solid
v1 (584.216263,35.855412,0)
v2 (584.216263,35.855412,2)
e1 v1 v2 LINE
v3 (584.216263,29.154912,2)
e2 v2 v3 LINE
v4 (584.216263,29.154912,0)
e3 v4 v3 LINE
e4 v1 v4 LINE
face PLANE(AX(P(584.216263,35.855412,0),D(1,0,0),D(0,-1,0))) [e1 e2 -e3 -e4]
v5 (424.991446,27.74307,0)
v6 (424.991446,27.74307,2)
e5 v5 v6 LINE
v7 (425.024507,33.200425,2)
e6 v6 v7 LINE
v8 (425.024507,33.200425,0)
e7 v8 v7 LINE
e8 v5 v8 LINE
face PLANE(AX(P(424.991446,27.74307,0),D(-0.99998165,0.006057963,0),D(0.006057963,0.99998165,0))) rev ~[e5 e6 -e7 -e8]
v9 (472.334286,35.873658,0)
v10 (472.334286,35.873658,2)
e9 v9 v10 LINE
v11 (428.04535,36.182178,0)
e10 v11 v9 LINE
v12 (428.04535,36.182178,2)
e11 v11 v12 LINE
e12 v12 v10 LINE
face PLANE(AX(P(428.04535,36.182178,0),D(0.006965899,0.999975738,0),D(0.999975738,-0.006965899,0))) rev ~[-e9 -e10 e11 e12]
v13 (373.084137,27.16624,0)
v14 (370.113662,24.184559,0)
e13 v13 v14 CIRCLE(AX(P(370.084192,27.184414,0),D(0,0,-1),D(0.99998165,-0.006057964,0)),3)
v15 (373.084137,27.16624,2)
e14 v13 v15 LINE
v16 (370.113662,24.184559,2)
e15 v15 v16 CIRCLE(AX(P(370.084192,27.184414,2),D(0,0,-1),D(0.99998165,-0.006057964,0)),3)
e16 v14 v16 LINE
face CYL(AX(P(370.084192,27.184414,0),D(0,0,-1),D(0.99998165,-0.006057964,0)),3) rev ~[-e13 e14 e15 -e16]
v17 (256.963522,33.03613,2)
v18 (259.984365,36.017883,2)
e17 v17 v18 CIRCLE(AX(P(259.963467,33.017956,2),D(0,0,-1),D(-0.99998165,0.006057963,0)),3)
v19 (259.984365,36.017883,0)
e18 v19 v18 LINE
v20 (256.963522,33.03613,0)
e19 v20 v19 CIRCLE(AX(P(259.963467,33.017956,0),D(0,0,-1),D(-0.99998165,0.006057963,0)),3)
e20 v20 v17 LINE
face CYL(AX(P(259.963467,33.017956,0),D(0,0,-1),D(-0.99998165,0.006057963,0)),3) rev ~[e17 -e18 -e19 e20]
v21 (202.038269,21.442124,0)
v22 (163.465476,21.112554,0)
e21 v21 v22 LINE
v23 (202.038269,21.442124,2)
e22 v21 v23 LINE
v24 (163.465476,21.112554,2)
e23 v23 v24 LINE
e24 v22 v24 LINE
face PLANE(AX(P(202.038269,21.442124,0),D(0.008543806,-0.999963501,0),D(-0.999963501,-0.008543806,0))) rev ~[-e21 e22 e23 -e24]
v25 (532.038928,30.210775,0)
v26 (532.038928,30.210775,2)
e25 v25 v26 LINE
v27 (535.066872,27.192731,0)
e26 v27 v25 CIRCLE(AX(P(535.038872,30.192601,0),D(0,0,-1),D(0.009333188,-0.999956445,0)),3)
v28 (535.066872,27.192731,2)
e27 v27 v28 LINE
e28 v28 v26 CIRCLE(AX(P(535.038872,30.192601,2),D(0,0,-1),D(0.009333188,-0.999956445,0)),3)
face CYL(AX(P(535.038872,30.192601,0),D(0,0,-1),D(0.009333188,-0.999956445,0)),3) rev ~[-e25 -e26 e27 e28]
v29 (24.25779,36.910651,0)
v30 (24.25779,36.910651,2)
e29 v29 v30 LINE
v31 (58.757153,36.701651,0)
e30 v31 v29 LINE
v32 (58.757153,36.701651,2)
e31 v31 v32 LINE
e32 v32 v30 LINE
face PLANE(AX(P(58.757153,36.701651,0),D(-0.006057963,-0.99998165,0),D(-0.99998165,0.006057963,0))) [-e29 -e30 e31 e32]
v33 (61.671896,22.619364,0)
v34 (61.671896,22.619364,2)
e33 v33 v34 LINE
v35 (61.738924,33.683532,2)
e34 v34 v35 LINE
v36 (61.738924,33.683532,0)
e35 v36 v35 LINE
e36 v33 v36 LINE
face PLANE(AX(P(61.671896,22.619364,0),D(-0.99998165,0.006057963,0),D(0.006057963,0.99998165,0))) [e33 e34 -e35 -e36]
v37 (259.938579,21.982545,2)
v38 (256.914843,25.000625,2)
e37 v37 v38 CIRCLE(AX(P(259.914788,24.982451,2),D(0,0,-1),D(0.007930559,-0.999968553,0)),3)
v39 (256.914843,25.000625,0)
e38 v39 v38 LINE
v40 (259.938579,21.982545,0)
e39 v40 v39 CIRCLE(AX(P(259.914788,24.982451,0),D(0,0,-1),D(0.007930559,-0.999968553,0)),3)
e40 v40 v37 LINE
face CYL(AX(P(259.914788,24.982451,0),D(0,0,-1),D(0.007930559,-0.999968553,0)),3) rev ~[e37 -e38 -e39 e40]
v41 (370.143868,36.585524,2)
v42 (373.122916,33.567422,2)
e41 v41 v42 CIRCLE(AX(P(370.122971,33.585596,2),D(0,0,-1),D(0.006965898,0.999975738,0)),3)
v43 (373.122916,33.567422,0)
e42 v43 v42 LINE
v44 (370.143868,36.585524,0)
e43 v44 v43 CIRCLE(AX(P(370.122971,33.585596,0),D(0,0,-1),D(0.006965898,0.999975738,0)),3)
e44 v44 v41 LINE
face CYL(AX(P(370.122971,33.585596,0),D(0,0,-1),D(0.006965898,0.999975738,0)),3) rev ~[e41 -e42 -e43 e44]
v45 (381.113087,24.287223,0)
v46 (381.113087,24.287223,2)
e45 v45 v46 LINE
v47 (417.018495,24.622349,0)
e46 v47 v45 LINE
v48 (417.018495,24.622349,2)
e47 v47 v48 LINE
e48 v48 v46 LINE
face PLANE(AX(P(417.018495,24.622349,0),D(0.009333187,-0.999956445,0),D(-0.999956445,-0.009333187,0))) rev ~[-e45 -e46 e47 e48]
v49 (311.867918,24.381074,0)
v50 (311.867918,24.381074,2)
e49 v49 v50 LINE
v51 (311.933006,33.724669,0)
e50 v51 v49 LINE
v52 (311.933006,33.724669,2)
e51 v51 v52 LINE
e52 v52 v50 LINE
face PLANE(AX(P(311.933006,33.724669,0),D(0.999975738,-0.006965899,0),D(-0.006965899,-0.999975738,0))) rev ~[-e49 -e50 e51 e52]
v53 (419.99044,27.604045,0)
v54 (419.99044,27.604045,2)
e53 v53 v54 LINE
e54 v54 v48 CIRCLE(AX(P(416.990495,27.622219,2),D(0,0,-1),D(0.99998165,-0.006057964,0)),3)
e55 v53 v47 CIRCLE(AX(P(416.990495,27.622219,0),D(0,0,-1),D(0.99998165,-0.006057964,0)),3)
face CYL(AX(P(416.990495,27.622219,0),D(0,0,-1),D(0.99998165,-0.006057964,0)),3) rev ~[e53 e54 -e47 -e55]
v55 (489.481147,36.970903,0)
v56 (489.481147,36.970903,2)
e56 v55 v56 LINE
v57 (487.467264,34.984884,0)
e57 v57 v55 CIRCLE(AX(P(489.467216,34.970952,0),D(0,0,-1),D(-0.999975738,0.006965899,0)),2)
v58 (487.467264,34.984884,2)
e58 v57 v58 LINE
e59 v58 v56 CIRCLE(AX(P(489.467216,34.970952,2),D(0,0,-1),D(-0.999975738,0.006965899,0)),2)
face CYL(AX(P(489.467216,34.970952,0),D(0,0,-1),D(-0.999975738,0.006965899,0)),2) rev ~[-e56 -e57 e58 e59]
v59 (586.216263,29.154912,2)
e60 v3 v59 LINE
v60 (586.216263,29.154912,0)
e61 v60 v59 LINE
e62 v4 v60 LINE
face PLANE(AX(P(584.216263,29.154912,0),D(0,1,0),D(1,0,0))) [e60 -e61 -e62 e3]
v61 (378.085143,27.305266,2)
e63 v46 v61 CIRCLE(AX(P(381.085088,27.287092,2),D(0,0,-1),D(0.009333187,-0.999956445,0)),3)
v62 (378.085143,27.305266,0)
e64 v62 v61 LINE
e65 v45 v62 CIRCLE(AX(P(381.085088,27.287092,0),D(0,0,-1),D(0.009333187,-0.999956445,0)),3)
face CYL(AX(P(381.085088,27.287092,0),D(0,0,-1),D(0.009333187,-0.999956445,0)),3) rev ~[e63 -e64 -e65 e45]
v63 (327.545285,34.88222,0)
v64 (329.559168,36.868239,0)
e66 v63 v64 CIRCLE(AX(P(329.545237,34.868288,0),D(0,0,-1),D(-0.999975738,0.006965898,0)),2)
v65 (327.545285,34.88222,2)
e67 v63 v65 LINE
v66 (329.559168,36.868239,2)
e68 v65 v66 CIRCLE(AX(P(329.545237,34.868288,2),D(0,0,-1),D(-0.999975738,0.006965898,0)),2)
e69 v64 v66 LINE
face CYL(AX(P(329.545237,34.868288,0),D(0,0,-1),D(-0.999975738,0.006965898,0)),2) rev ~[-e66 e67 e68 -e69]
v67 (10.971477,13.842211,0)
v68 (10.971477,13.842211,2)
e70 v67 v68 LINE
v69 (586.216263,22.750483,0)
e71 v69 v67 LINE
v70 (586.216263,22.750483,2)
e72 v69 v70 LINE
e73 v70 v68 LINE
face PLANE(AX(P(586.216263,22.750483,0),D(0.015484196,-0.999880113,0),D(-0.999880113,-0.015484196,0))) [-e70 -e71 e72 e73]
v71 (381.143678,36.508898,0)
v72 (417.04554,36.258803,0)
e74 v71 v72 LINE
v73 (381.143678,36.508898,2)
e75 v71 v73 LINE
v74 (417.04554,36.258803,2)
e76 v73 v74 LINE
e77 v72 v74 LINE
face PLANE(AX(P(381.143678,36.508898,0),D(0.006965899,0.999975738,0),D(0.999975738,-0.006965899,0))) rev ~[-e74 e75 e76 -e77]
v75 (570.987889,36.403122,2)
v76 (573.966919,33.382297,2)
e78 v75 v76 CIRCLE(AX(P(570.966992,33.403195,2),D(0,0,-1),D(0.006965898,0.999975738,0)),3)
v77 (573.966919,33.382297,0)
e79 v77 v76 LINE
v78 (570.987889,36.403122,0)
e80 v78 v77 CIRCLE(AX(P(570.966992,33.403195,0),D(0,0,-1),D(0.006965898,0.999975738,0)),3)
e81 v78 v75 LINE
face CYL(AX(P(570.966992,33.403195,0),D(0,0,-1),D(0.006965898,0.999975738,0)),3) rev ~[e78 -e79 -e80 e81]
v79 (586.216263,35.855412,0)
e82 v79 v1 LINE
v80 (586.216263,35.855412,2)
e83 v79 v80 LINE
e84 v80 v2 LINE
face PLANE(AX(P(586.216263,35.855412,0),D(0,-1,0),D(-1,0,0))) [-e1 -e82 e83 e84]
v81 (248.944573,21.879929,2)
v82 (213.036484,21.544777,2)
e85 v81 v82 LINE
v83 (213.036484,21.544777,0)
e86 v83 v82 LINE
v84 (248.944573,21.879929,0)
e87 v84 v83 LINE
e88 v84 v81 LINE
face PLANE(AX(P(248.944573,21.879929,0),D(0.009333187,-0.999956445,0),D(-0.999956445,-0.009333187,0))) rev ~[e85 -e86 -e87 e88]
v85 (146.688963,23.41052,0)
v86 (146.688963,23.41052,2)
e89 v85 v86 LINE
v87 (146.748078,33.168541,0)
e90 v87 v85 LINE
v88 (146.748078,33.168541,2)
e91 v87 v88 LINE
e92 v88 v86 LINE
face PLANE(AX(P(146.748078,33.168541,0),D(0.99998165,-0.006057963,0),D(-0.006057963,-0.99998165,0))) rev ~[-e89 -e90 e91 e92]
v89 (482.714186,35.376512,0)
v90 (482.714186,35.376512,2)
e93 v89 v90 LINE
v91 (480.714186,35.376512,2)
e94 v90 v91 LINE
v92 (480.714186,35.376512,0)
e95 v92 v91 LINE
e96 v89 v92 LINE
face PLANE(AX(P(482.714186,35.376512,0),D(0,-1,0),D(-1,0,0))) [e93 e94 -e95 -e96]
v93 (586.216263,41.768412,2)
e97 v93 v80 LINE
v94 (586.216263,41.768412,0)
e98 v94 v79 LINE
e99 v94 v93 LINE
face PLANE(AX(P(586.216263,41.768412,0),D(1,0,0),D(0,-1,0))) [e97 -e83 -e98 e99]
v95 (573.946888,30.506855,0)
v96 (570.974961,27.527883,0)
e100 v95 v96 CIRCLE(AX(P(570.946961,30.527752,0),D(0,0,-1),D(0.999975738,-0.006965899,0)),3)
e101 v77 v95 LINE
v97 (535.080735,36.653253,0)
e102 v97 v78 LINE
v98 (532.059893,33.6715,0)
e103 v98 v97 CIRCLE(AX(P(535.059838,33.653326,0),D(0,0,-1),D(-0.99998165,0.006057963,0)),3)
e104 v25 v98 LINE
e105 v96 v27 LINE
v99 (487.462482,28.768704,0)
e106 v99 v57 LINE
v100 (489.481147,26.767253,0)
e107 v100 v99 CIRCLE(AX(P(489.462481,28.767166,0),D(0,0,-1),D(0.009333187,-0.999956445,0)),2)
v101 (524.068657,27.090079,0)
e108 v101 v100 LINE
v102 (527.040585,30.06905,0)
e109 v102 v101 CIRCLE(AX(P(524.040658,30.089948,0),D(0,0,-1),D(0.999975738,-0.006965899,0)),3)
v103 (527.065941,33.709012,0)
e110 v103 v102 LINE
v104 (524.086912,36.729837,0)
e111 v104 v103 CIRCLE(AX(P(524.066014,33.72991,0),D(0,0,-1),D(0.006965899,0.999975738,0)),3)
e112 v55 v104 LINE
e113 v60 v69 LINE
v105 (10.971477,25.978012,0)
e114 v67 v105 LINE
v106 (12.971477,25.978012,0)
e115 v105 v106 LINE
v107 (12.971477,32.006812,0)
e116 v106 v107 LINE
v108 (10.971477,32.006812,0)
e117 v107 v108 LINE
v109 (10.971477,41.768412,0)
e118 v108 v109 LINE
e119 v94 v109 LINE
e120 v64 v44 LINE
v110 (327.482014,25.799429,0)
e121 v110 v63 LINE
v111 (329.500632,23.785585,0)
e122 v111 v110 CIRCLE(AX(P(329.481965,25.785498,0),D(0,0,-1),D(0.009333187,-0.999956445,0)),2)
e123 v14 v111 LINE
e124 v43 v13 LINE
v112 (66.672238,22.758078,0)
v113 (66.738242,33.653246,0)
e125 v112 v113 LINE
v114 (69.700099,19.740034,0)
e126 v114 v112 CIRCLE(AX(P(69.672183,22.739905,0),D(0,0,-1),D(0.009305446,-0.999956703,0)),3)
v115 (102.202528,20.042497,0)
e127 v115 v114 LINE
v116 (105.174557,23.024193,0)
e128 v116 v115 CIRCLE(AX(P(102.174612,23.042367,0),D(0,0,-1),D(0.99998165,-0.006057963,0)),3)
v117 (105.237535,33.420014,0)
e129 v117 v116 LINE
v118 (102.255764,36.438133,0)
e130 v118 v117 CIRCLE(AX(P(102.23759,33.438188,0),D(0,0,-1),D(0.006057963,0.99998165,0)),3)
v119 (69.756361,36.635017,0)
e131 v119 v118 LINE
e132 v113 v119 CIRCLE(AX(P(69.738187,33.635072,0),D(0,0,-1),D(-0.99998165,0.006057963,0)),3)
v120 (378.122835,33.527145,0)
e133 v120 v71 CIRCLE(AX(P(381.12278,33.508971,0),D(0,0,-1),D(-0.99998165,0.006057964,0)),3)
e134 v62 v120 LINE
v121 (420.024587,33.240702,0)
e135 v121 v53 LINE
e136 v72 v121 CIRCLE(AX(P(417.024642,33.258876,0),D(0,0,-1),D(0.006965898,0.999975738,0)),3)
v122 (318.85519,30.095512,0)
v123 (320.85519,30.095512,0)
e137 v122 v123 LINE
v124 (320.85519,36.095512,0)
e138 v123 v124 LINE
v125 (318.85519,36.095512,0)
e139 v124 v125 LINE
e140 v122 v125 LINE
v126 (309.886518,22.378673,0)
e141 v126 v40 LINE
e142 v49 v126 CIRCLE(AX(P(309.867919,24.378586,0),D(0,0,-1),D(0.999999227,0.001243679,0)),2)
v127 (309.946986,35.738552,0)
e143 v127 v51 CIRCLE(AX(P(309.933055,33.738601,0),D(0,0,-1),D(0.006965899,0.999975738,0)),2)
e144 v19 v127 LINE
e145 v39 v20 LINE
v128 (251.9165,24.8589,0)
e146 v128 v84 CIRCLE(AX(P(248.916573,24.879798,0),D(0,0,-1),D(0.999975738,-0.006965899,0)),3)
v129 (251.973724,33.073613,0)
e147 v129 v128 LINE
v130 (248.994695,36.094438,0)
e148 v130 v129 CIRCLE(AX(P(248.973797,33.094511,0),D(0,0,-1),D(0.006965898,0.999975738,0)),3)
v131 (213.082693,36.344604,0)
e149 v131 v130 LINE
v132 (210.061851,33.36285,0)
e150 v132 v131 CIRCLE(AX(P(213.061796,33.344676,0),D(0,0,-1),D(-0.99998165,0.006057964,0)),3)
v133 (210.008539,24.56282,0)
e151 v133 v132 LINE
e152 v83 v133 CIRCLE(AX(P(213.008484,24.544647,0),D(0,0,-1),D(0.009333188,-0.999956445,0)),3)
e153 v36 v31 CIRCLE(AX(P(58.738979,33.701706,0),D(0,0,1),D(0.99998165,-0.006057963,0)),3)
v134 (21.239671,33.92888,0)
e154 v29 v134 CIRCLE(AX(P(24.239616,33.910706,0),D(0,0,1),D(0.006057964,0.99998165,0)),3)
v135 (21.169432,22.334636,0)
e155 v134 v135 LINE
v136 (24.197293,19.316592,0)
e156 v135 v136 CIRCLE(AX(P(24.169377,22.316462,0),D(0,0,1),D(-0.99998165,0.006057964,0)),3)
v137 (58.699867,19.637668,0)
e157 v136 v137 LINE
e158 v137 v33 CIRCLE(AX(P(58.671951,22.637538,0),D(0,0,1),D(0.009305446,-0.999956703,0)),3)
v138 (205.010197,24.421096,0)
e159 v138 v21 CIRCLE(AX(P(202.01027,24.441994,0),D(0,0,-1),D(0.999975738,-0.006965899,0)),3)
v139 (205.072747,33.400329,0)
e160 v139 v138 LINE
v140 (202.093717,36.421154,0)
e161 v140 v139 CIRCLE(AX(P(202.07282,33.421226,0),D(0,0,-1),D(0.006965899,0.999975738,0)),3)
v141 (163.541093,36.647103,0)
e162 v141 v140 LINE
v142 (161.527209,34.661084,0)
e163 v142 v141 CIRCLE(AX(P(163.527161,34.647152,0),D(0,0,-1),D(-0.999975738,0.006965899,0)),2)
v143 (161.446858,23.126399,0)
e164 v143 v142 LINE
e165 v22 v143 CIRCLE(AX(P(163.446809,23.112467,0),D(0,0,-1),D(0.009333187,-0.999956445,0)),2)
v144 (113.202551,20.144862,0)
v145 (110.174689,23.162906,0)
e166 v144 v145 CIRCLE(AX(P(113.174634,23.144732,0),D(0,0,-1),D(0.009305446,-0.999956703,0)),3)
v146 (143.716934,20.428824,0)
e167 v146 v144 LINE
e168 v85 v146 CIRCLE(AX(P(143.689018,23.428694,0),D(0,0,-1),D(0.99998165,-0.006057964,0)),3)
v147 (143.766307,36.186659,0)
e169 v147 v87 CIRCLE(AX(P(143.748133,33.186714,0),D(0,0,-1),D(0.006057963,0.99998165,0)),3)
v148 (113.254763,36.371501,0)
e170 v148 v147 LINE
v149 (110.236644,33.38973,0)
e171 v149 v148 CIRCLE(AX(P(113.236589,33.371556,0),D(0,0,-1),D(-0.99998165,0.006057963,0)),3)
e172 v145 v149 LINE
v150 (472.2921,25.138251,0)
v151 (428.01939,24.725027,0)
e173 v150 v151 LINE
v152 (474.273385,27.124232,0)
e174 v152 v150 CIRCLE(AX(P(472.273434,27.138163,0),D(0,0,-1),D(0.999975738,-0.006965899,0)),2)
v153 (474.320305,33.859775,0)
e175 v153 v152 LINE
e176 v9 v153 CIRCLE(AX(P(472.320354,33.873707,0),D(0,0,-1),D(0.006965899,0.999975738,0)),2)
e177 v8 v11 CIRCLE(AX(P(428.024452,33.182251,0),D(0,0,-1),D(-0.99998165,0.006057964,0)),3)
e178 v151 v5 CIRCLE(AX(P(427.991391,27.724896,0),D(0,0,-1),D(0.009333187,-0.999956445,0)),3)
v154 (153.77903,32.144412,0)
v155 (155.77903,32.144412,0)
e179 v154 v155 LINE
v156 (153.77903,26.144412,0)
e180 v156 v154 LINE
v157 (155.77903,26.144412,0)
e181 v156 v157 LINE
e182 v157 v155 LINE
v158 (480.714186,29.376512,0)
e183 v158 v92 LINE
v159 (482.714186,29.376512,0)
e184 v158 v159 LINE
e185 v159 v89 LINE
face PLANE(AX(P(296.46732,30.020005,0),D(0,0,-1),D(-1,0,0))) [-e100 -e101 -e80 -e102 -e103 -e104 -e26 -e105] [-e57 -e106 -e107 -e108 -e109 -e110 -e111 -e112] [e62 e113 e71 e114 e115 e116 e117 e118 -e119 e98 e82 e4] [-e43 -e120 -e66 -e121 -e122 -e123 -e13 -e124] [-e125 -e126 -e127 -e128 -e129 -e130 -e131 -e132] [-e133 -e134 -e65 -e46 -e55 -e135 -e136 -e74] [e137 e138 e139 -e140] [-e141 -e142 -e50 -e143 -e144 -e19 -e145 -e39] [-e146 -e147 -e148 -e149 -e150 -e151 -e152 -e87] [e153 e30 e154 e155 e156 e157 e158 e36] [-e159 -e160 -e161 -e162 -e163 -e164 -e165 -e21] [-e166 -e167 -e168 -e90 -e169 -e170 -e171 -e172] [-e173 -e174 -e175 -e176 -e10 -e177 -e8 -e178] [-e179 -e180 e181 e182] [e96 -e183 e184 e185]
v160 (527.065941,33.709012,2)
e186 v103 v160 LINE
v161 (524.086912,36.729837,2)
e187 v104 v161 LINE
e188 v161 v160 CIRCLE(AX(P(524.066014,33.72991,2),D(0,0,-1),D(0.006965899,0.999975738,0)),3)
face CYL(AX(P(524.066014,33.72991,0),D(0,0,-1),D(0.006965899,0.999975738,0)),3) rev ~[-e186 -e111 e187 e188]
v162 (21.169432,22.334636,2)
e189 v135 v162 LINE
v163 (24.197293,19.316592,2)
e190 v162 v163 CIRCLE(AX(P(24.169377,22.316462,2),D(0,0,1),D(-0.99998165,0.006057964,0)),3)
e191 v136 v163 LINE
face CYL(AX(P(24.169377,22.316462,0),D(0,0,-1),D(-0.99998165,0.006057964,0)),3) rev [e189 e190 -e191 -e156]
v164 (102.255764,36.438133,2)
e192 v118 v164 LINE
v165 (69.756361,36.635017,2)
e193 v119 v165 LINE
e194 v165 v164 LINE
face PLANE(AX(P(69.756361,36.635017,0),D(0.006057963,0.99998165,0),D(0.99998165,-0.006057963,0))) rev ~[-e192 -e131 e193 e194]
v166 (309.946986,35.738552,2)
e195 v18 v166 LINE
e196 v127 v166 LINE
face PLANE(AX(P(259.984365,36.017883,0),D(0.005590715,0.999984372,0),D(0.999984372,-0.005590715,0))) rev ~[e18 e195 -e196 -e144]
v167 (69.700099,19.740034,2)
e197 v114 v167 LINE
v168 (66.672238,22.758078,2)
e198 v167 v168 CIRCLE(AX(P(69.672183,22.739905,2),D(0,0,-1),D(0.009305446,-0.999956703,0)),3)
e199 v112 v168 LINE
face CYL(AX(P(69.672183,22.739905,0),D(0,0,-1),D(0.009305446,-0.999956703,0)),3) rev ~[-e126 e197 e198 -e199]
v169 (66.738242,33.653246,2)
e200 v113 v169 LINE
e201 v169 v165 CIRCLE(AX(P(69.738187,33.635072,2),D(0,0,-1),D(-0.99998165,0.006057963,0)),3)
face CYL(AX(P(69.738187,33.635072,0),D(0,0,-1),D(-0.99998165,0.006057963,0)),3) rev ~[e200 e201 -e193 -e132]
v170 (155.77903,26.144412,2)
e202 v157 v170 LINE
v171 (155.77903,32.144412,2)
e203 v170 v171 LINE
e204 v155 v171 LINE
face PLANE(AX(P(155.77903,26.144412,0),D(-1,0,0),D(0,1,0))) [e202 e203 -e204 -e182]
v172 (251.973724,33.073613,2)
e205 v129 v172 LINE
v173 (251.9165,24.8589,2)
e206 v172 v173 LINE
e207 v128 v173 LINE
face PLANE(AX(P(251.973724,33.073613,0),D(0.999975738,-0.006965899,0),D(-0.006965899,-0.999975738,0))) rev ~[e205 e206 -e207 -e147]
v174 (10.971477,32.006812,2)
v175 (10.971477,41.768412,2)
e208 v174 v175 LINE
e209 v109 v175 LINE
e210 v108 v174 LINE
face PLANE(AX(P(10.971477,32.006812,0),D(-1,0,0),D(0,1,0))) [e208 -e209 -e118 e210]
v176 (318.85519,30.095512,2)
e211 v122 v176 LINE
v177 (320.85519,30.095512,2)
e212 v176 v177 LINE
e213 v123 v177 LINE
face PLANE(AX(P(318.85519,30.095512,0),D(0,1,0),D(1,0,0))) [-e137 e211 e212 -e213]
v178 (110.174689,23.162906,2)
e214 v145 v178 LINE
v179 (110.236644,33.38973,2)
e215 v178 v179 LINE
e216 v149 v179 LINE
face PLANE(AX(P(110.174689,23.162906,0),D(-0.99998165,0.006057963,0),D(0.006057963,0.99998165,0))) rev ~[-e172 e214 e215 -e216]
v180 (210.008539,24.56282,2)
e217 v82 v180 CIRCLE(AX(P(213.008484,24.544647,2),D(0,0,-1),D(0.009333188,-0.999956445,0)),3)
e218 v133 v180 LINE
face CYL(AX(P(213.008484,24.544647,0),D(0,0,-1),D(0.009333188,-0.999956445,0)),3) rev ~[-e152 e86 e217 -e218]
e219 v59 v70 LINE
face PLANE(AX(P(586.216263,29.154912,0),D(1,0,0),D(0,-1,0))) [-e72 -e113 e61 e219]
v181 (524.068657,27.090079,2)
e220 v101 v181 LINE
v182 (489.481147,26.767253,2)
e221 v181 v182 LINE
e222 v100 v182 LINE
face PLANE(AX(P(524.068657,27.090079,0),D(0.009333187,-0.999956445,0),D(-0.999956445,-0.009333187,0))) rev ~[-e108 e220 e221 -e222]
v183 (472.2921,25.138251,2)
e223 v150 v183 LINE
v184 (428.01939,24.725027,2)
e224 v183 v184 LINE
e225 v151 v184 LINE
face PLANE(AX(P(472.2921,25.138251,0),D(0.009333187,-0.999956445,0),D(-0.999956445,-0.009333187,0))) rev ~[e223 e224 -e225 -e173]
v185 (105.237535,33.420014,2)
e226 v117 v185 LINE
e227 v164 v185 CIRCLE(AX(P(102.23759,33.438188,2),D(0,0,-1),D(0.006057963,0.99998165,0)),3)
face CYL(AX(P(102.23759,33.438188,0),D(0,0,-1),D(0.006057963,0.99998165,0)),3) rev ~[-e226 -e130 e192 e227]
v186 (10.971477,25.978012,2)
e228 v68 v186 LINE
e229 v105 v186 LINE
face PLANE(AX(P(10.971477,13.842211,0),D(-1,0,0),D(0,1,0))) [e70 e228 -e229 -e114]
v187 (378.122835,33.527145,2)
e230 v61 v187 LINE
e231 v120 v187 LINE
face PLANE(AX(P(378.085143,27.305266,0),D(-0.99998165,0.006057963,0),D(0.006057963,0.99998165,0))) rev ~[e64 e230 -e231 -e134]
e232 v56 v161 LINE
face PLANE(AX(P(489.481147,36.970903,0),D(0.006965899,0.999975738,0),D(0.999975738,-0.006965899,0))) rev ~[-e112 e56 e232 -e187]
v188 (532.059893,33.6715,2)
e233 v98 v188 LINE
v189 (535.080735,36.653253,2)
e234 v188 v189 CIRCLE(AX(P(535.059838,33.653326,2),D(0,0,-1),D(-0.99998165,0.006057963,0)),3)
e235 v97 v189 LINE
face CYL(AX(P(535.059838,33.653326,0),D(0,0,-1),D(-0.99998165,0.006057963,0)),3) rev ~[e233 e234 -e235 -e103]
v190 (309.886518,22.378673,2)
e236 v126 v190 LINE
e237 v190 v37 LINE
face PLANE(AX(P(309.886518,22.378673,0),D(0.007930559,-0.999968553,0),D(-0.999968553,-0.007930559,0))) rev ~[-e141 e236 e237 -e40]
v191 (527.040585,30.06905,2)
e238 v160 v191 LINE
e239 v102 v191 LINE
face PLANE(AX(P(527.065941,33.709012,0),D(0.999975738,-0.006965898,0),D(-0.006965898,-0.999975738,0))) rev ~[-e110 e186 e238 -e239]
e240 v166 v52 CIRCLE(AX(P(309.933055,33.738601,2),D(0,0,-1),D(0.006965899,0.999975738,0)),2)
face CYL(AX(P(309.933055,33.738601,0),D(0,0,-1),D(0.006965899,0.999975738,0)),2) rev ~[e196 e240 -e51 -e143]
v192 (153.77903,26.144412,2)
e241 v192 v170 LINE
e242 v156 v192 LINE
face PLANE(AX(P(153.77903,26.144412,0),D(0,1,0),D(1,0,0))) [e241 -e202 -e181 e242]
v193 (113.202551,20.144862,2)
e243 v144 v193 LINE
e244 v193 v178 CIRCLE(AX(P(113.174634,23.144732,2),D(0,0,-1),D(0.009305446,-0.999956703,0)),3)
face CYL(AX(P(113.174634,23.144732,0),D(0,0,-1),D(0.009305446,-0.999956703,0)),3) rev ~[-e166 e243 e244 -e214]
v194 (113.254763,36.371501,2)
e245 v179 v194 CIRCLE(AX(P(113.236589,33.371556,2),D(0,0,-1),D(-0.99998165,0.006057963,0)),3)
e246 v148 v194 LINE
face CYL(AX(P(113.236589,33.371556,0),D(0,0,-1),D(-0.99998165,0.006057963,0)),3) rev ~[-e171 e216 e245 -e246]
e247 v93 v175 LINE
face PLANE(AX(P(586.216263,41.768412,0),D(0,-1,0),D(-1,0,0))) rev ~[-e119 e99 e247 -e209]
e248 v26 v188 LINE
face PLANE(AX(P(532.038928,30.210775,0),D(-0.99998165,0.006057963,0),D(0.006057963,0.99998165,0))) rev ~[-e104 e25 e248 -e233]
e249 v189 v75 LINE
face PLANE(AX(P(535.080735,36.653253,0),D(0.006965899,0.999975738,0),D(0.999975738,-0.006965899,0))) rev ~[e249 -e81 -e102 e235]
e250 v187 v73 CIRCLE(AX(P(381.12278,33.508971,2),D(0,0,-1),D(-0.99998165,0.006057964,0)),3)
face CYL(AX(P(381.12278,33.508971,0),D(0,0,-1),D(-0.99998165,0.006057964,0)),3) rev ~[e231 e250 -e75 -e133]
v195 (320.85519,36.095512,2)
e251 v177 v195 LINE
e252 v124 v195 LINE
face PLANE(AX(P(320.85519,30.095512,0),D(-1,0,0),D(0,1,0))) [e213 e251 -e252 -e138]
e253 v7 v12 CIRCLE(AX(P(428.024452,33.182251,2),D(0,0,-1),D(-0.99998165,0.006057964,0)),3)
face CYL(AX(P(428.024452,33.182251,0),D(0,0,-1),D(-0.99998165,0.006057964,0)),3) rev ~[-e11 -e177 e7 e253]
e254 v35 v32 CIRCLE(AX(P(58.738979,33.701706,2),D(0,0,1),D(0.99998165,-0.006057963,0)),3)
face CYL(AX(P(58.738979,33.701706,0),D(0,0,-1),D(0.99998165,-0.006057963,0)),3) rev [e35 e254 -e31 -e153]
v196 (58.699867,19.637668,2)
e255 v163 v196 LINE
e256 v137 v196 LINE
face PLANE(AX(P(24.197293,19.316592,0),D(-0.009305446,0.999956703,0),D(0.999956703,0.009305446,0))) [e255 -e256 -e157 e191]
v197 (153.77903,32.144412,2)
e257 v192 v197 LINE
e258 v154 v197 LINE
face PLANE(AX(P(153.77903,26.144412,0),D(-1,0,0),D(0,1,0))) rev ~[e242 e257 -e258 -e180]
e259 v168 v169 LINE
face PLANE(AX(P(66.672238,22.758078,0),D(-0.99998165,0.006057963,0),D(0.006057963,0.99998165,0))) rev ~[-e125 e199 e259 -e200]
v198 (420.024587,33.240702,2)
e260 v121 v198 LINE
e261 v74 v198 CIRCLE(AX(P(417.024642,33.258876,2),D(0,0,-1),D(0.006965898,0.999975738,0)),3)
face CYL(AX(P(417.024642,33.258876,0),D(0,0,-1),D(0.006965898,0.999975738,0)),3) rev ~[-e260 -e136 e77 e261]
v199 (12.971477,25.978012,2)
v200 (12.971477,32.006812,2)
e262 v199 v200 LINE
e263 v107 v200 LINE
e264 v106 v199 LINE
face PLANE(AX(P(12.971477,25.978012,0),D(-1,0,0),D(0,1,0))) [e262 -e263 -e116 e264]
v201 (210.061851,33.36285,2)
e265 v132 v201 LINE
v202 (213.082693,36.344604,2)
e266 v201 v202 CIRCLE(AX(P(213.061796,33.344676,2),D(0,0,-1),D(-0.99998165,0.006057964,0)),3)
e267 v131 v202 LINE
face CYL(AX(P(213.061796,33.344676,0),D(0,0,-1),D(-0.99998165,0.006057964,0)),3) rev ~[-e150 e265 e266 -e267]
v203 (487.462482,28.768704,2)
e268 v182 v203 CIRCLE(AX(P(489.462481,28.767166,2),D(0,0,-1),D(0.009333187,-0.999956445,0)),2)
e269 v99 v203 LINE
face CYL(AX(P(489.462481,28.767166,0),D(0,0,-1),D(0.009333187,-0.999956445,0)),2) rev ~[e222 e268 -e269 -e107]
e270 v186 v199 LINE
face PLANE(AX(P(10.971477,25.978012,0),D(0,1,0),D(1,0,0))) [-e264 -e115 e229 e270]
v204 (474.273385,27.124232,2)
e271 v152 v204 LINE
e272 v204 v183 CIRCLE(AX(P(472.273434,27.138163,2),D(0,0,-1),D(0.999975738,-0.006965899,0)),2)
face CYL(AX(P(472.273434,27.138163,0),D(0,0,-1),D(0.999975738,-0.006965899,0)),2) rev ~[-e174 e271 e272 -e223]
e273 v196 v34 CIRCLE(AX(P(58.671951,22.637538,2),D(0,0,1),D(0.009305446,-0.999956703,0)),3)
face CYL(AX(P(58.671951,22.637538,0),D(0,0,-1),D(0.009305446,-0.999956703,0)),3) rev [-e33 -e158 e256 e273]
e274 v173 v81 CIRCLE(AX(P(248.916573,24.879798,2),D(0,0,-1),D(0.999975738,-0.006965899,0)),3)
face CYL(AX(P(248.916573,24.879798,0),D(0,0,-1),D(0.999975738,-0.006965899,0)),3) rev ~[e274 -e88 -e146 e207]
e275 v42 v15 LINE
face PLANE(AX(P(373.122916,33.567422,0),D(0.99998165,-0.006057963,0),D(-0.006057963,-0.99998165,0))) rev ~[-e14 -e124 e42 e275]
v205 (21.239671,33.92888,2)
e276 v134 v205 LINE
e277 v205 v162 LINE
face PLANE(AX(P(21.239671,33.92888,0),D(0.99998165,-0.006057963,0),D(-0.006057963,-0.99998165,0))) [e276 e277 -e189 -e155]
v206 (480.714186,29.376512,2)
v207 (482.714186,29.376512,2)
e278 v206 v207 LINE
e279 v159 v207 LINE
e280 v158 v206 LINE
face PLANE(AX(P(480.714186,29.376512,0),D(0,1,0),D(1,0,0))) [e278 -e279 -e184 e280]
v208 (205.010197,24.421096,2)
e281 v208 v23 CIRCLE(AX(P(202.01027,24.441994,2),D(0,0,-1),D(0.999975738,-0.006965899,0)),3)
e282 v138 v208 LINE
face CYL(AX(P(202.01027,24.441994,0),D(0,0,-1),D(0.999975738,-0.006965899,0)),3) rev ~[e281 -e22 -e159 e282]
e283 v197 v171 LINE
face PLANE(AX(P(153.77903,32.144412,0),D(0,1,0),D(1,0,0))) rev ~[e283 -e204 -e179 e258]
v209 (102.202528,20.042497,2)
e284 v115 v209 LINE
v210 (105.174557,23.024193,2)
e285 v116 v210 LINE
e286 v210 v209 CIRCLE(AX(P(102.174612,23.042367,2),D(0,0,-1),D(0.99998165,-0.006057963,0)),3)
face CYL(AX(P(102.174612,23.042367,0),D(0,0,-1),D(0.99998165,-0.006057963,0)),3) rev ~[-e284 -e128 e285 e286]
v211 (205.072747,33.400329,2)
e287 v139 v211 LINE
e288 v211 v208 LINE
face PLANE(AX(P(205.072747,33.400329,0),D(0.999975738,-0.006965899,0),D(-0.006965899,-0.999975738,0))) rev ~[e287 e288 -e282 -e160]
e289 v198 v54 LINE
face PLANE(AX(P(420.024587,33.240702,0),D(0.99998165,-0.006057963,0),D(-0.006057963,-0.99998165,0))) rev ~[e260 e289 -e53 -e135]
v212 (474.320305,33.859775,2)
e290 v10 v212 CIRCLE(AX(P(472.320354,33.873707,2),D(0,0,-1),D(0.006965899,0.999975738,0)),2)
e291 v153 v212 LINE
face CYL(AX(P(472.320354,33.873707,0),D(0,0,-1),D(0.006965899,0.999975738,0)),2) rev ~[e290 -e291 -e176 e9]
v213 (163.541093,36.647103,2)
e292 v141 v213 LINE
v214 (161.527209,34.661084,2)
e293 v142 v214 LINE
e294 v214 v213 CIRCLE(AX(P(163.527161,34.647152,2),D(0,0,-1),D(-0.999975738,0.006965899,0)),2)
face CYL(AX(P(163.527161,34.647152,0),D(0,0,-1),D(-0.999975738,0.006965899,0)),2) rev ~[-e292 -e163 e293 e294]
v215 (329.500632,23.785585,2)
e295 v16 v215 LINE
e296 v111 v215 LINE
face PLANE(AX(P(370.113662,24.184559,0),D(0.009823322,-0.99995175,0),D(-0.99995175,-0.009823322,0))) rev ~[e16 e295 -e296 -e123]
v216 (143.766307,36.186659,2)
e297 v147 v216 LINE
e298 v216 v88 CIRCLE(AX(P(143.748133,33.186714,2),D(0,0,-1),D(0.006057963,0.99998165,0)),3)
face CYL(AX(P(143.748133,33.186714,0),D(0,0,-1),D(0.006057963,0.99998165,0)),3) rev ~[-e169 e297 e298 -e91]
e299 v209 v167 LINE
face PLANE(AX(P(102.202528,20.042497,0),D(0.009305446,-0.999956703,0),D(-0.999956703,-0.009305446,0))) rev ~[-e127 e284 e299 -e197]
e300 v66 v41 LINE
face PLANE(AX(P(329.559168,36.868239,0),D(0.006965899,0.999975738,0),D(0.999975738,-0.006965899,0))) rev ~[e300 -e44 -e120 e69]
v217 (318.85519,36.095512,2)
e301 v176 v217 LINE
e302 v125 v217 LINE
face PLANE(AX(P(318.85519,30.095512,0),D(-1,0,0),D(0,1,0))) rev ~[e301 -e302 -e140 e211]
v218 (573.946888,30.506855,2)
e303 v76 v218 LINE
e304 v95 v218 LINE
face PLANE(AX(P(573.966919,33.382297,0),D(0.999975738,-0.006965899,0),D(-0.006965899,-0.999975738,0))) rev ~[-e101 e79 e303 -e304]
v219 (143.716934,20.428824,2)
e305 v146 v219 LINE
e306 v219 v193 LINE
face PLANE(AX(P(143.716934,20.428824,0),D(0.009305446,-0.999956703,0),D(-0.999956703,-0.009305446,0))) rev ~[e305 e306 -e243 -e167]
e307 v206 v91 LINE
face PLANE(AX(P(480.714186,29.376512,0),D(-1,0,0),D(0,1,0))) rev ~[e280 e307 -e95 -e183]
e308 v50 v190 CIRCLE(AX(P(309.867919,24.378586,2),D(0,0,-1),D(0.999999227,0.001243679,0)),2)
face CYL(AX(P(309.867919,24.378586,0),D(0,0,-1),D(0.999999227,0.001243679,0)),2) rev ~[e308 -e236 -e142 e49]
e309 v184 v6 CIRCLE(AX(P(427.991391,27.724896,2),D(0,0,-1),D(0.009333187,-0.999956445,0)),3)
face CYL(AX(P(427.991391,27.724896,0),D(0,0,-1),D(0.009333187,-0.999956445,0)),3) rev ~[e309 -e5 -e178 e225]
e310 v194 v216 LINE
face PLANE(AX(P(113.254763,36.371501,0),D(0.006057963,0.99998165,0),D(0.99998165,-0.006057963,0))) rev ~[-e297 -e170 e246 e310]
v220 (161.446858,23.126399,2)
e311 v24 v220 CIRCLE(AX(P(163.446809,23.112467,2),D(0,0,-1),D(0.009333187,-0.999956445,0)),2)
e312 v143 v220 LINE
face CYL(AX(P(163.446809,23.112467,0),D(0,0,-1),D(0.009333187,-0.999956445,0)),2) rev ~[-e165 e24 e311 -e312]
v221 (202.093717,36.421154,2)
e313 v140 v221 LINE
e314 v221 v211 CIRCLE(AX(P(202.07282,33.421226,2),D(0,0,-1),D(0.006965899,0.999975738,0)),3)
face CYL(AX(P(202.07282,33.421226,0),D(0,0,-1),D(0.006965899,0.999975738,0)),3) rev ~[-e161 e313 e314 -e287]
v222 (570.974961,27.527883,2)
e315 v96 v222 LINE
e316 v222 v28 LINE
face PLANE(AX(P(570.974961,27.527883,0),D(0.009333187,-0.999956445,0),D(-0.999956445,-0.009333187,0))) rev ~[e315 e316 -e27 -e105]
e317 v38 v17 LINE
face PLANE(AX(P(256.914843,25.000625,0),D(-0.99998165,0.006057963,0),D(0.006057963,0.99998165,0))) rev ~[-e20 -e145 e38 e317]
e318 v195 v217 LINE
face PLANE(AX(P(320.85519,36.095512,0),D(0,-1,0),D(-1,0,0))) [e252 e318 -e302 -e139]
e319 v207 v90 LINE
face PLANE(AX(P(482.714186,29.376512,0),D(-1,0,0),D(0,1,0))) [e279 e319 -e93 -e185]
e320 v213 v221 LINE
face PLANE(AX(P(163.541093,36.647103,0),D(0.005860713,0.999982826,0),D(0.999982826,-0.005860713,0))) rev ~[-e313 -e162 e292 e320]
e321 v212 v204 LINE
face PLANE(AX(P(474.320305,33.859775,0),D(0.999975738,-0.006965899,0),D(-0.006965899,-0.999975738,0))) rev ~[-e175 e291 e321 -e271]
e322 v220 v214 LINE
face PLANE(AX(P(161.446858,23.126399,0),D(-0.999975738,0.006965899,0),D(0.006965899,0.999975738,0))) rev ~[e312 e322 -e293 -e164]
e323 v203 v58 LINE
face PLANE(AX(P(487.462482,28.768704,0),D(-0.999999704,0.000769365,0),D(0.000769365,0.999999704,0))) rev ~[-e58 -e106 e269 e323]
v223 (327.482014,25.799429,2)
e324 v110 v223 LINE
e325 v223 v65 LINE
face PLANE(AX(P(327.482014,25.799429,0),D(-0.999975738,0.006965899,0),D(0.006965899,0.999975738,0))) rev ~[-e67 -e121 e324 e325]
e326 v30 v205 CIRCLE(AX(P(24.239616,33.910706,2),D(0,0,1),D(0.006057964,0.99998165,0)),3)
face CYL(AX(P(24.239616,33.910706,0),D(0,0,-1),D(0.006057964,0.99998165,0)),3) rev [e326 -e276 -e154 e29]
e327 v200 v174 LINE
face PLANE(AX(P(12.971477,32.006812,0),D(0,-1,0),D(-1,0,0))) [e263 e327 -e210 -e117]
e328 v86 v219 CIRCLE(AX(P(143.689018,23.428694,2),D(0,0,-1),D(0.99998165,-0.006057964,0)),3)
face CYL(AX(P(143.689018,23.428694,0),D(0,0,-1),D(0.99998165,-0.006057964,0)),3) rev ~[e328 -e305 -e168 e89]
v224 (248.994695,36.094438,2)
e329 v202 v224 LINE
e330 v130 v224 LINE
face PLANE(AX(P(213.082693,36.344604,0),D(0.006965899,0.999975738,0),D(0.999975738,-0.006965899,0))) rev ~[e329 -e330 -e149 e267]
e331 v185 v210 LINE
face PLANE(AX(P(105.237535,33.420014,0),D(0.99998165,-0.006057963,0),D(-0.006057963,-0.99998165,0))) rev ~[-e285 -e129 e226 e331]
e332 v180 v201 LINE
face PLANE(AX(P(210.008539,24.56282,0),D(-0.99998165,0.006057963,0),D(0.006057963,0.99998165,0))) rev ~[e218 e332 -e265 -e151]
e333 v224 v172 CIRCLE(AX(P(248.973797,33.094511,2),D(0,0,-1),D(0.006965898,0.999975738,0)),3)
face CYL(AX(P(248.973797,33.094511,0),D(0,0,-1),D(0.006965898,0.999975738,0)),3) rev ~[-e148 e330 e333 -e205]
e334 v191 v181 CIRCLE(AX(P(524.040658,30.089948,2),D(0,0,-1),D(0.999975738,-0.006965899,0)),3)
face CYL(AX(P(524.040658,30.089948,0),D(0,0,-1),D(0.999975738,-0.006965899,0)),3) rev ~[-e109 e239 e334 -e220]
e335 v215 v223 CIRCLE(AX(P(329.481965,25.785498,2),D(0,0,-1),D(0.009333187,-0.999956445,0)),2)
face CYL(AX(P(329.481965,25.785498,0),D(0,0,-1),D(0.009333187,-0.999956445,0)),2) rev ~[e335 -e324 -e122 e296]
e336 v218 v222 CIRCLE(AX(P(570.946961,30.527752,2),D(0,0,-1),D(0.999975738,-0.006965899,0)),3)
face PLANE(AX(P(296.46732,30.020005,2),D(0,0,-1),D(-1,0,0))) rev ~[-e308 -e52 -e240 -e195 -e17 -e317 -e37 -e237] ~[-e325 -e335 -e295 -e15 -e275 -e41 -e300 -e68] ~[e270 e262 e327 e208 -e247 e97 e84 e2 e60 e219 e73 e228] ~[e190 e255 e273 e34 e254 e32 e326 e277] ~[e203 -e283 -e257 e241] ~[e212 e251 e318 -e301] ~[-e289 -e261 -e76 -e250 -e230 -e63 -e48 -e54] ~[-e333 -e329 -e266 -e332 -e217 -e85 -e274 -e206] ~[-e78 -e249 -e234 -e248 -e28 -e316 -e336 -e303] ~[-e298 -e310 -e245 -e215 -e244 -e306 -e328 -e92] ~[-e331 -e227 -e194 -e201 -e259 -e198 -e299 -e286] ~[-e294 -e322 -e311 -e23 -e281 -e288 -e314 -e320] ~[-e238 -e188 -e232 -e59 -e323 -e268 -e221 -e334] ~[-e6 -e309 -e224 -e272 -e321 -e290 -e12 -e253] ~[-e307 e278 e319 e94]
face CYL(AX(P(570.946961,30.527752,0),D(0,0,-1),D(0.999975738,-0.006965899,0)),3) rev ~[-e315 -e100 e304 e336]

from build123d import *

# Parameters (mm, degrees)
MODEL_W         = 2
MODEL_H         = 6
EXTRUDE_1_DEPTH = 2


with BuildPart() as part:
    # Model → 凸台-拉伸1 (new body)
    with BuildSketch(Plane.XY):
        Polygon((586.216263019, 41.768412003), (586.216263019, 35.855412003), (584.216263019, 35.855412003), (584.216263019, 29.154912003), (586.216263019, 29.154912003), (586.216263019, 22.750482518), (10.971476696, 13.842211299), (10.971476696, 25.978012003), (12.971476696, 25.978012003), (12.971476696, 32.006812003), (10.971476696, 32.006812003), (10.971476696, 41.768412003), (154.87521024, 41.768412003), (317.652575925, 41.768412003), (481.210656258, 41.768412003), align=None)
        with Locations((154.779030244, 29.144412003)):
            Rectangle(MODEL_W, MODEL_H, mode=Mode.SUBTRACT)
        Polygon((318.855190189, 33.150012003), (318.855190189, 30.095512003), (320.855190189, 30.095512003), (320.855190189, 36.095512003), (318.855190189, 36.095512003), align=None, mode=Mode.SUBTRACT)
        Polygon((480.71418574, 34.458512003), (480.71418574, 29.376512003), (482.71418574, 29.376512003), (482.71418574, 35.376512003), (480.71418574, 35.376512003), align=None, mode=Mode.SUBTRACT)
        with BuildLine():
            Line((58.757152566, 36.70165117), (24.257789514, 36.910650883))
            ThreePointArc((24.257789514, 36.910650883), (22.131185086, 36.044838231), (21.239670672, 33.928879822))
            Line((21.239670672, 33.928879822), (21.16943188, 22.334636165))
            ThreePointArc((21.16943188, 22.334636165), (22.051503861, 20.191700151), (24.197293169, 19.316592165))
            Line((24.197293169, 19.316592165), (58.699867458, 19.637667912))
            ThreePointArc((58.699867458, 19.637667912), (60.796713244, 20.519665053), (61.671896071, 22.619364132))
            Line((61.671896071, 22.619364132), (61.738923627, 33.683532329))
            ThreePointArc((61.738923627, 33.683532329), (60.873110975, 35.810136756), (58.757152566, 36.70165117))
        make_face(mode=Mode.SUBTRACT)
        with BuildLine():
            Line((146.748077677, 33.168540536), (146.688962862, 23.41052012))
            ThreePointArc((146.688962862, 23.41052012), (145.813780035, 21.310821041), (143.716934249, 20.4288239))
            Line((143.716934249, 20.4288239), (113.202550526, 20.144861652))
            ThreePointArc((113.202550526, 20.144861652), (111.056761218, 21.019969638), (110.174689236, 23.162905652))
            Line((110.174689236, 23.162905652), (110.236644098, 33.389729523))
            ThreePointArc((110.236644098, 33.389729523), (111.128158512, 35.505687932), (113.254762939, 36.371500584))
            Line((113.254762939, 36.371500584), (143.766306616, 36.186659378))
            ThreePointArc((143.766306616, 36.186659378), (145.882265025, 35.295144964), (146.748077677, 33.168540536))
        make_face(mode=Mode.SUBTRACT)
        with BuildLine():
            Line((69.756360643, 36.635017148), (102.25576428, 36.438133338))
            ThreePointArc((102.25576428, 36.438133338), (104.371722689, 35.546618924), (105.237535341, 33.420014496))
            Line((105.237535341, 33.420014496), (105.174556682, 23.024193324))
            ThreePointArc((105.174556682, 23.024193324), (104.299373855, 20.924494244), (102.202528069, 20.042497104))
            Line((102.202528069, 20.042497104), (69.700099353, 19.740034409))
            ThreePointArc((69.700099353, 19.740034409), (67.554310045, 20.615142396), (66.672238064, 22.75807841))
            Line((66.672238064, 22.75807841), (66.738241802, 33.653246087))
            ThreePointArc((66.738241802, 33.653246087), (67.629756216, 35.769204496), (69.756360643, 36.635017148))
        make_face(mode=Mode.SUBTRACT)
        with BuildLine():
            Line((163.541092581, 36.647103391), (202.093717488, 36.421153648))
            ThreePointArc((202.093717488, 36.421153648), (204.20886557, 35.527718408), (205.072747005, 33.400328739))
            Line((205.072747005, 33.400328739), (205.010197063, 24.421095996))
            ThreePointArc((205.010197063, 24.421095996), (204.134099679, 22.323185807), (202.038269411, 21.442124358))
            Line((202.038269411, 21.442124358), (163.465475762, 21.112553873))
            ThreePointArc((163.465475762, 21.112553873), (162.034270797, 21.69658021), (161.446857912, 23.12639856))
            Line((161.446857912, 23.12639856), (161.527209308, 34.661083712))
            ThreePointArc((161.527209308, 34.661083712), (162.122832802, 36.071182434), (163.541092581, 36.647103391))
        make_face(mode=Mode.SUBTRACT)
        with BuildLine():
            Line((213.082693343, 36.344603699), (248.994694933, 36.094438268))
            ThreePointArc((248.994694933, 36.094438268), (251.109843016, 35.201003028), (251.973724451, 33.073613359))
            Line((251.973724451, 33.073613359), (251.916500205, 24.858900378))
            ThreePointArc((251.916500205, 24.858900378), (251.040402821, 22.760990189), (248.944572553, 21.87992874))
            Line((248.944572553, 21.87992874), (213.036483972, 21.544777225))
            ThreePointArc((213.036483972, 21.544777225), (210.890640913, 22.419855058), (210.008539459, 24.56282045))
            Line((210.008539459, 24.56282045), (210.061850696, 33.362850376))
            ThreePointArc((210.061850696, 33.362850376), (210.954334175, 35.479765744), (213.082693343, 36.344603699))
        make_face(mode=Mode.SUBTRACT)
        with BuildLine():
            Line((259.984364938, 36.017883484), (309.946986323, 35.73855234))
            ThreePointArc((309.946986323, 35.73855234), (311.357085044, 35.142928847), (311.933006001, 33.724669067))
            Line((311.933006001, 33.724669067), (311.867917884, 24.38107371))
            ThreePointArc((311.867917884, 24.38107371), (311.289568546, 22.971847644), (309.886518402, 22.378672834))
            Line((309.886518402, 22.378672834), (259.93857923, 21.982545284))
            ThreePointArc((259.93857923, 21.982545284), (257.795454375, 22.859145292), (256.914842601, 25.000624832))
            Line((256.914842601, 25.000624832), (256.963522291, 33.03613016))
            ThreePointArc((256.963522291, 33.03613016), (257.85600577, 35.153045529), (259.984364938, 36.017883484))
        make_face(mode=Mode.SUBTRACT)
        with BuildLine():
            Line((329.559168481, 36.86823931), (370.143868366, 36.585523546))
            ThreePointArc((370.143868366, 36.585523546), (372.258059929, 35.693057805), (373.122915621, 33.567422443))
            Line((373.122915621, 33.567422443), (373.084136783, 27.166240277))
            ThreePointArc((373.084136783, 27.166240277), (372.209502307, 25.067091475), (370.113661797, 24.184558917))
            Line((370.113661797, 24.184558917), (329.500631729, 23.7855848))
            ThreePointArc((329.500631729, 23.7855848), (328.069426764, 24.369611137), (327.482013878, 25.799429487))
            Line((327.482013878, 25.799429487), (327.545285209, 34.882219631))
            ThreePointArc((327.545285209, 34.882219631), (328.140908702, 36.292318353), (329.559168481, 36.86823931))
        make_face(mode=Mode.SUBTRACT)
        with BuildLine():
            Line((381.143677955, 36.508898129), (417.045539961, 36.258803331))
            ThreePointArc((417.045539961, 36.258803331), (419.159731524, 35.36633759), (420.024587216, 33.240702227))
            Line((420.024587216, 33.240702227), (419.990439925, 27.604044659))
            ThreePointArc((419.990439925, 27.604044659), (419.115286475, 25.504375053), (417.018494535, 24.622349215))
            Line((417.018494535, 24.622349215), (381.113087215, 24.287222726))
            ThreePointArc((381.113087215, 24.287222726), (378.967244157, 25.162300559), (378.085142702, 27.305265951))
            Line((378.085142702, 27.305265951), (378.122835308, 33.527144806))
            ThreePointArc((378.122835308, 33.527144806), (379.015318787, 35.644060174), (381.143677955, 36.508898129))
        make_face(mode=Mode.SUBTRACT)
        with BuildLine():
            Line((428.04534955, 36.182177913), (472.3342856, 35.87365819))
            ThreePointArc((472.3342856, 35.87365819), (473.744384321, 35.278034697), (474.320305278, 33.859774917))
            Line((474.320305278, 33.859774917), (474.273385029, 27.12423169))
            ThreePointArc((474.273385029, 27.12423169), (473.689320106, 25.725624897), (472.292099928, 25.138250597))
            Line((472.292099928, 25.138250597), (428.019390357, 24.725027108))
            ThreePointArc((428.019390357, 24.725027108), (425.873547299, 25.600104941), (424.991445844, 27.743070333))
            Line((424.991445844, 27.743070333), (425.024506903, 33.20042459))
            ThreePointArc((425.024506903, 33.20042459), (425.916990382, 35.317339958), (428.04534955, 36.182177913))
        make_face(mode=Mode.SUBTRACT)
        with BuildLine():
            Line((489.48114747, 36.970903278), (524.086911809, 36.729837184))
            ThreePointArc((524.086911809, 36.729837184), (526.202059891, 35.836401944), (527.065941326, 33.709012275))
            Line((527.065941326, 33.709012275), (527.040585105, 30.069050249))
            ThreePointArc((527.040585105, 30.069050249), (526.164487721, 27.97114006), (524.068657453, 27.09007861))
            Line((524.068657453, 27.09007861), (489.48114747, 26.76725284))
            ThreePointArc((489.48114747, 26.76725284), (488.054336113, 27.346909518), (487.462481687, 28.768704459))
            Line((487.462481687, 28.768704459), (487.467264197, 34.9848836))
            ThreePointArc((487.467264197, 34.9848836), (488.062887691, 36.394982321), (489.48114747, 36.970903278))
        make_face(mode=Mode.SUBTRACT)
        with BuildLine():
            Line((535.08073548, 36.653253465), (570.987889254, 36.403121804))
            ThreePointArc((570.987889254, 36.403121804), (573.103037337, 35.509686564), (573.966918772, 33.382296895))
            Line((573.966918772, 33.382296895), (573.946888247, 30.506854631))
            ThreePointArc((573.946888247, 30.506854631), (573.070790863, 28.408944442), (570.974960595, 27.527882992))
            Line((570.974960595, 27.527882992), (535.066872014, 27.192731478))
            ThreePointArc((535.066872014, 27.192731478), (532.921028955, 28.067809311), (532.038927501, 30.210774703))
            Line((532.038927501, 30.210774703), (532.059892833, 33.671500141))
            ThreePointArc((532.059892833, 33.671500141), (532.952376312, 35.78841551), (535.08073548, 36.653253465))
        make_face(mode=Mode.SUBTRACT)
    extrude(amount=EXTRUDE_1_DEPTH)


solid = part.part
